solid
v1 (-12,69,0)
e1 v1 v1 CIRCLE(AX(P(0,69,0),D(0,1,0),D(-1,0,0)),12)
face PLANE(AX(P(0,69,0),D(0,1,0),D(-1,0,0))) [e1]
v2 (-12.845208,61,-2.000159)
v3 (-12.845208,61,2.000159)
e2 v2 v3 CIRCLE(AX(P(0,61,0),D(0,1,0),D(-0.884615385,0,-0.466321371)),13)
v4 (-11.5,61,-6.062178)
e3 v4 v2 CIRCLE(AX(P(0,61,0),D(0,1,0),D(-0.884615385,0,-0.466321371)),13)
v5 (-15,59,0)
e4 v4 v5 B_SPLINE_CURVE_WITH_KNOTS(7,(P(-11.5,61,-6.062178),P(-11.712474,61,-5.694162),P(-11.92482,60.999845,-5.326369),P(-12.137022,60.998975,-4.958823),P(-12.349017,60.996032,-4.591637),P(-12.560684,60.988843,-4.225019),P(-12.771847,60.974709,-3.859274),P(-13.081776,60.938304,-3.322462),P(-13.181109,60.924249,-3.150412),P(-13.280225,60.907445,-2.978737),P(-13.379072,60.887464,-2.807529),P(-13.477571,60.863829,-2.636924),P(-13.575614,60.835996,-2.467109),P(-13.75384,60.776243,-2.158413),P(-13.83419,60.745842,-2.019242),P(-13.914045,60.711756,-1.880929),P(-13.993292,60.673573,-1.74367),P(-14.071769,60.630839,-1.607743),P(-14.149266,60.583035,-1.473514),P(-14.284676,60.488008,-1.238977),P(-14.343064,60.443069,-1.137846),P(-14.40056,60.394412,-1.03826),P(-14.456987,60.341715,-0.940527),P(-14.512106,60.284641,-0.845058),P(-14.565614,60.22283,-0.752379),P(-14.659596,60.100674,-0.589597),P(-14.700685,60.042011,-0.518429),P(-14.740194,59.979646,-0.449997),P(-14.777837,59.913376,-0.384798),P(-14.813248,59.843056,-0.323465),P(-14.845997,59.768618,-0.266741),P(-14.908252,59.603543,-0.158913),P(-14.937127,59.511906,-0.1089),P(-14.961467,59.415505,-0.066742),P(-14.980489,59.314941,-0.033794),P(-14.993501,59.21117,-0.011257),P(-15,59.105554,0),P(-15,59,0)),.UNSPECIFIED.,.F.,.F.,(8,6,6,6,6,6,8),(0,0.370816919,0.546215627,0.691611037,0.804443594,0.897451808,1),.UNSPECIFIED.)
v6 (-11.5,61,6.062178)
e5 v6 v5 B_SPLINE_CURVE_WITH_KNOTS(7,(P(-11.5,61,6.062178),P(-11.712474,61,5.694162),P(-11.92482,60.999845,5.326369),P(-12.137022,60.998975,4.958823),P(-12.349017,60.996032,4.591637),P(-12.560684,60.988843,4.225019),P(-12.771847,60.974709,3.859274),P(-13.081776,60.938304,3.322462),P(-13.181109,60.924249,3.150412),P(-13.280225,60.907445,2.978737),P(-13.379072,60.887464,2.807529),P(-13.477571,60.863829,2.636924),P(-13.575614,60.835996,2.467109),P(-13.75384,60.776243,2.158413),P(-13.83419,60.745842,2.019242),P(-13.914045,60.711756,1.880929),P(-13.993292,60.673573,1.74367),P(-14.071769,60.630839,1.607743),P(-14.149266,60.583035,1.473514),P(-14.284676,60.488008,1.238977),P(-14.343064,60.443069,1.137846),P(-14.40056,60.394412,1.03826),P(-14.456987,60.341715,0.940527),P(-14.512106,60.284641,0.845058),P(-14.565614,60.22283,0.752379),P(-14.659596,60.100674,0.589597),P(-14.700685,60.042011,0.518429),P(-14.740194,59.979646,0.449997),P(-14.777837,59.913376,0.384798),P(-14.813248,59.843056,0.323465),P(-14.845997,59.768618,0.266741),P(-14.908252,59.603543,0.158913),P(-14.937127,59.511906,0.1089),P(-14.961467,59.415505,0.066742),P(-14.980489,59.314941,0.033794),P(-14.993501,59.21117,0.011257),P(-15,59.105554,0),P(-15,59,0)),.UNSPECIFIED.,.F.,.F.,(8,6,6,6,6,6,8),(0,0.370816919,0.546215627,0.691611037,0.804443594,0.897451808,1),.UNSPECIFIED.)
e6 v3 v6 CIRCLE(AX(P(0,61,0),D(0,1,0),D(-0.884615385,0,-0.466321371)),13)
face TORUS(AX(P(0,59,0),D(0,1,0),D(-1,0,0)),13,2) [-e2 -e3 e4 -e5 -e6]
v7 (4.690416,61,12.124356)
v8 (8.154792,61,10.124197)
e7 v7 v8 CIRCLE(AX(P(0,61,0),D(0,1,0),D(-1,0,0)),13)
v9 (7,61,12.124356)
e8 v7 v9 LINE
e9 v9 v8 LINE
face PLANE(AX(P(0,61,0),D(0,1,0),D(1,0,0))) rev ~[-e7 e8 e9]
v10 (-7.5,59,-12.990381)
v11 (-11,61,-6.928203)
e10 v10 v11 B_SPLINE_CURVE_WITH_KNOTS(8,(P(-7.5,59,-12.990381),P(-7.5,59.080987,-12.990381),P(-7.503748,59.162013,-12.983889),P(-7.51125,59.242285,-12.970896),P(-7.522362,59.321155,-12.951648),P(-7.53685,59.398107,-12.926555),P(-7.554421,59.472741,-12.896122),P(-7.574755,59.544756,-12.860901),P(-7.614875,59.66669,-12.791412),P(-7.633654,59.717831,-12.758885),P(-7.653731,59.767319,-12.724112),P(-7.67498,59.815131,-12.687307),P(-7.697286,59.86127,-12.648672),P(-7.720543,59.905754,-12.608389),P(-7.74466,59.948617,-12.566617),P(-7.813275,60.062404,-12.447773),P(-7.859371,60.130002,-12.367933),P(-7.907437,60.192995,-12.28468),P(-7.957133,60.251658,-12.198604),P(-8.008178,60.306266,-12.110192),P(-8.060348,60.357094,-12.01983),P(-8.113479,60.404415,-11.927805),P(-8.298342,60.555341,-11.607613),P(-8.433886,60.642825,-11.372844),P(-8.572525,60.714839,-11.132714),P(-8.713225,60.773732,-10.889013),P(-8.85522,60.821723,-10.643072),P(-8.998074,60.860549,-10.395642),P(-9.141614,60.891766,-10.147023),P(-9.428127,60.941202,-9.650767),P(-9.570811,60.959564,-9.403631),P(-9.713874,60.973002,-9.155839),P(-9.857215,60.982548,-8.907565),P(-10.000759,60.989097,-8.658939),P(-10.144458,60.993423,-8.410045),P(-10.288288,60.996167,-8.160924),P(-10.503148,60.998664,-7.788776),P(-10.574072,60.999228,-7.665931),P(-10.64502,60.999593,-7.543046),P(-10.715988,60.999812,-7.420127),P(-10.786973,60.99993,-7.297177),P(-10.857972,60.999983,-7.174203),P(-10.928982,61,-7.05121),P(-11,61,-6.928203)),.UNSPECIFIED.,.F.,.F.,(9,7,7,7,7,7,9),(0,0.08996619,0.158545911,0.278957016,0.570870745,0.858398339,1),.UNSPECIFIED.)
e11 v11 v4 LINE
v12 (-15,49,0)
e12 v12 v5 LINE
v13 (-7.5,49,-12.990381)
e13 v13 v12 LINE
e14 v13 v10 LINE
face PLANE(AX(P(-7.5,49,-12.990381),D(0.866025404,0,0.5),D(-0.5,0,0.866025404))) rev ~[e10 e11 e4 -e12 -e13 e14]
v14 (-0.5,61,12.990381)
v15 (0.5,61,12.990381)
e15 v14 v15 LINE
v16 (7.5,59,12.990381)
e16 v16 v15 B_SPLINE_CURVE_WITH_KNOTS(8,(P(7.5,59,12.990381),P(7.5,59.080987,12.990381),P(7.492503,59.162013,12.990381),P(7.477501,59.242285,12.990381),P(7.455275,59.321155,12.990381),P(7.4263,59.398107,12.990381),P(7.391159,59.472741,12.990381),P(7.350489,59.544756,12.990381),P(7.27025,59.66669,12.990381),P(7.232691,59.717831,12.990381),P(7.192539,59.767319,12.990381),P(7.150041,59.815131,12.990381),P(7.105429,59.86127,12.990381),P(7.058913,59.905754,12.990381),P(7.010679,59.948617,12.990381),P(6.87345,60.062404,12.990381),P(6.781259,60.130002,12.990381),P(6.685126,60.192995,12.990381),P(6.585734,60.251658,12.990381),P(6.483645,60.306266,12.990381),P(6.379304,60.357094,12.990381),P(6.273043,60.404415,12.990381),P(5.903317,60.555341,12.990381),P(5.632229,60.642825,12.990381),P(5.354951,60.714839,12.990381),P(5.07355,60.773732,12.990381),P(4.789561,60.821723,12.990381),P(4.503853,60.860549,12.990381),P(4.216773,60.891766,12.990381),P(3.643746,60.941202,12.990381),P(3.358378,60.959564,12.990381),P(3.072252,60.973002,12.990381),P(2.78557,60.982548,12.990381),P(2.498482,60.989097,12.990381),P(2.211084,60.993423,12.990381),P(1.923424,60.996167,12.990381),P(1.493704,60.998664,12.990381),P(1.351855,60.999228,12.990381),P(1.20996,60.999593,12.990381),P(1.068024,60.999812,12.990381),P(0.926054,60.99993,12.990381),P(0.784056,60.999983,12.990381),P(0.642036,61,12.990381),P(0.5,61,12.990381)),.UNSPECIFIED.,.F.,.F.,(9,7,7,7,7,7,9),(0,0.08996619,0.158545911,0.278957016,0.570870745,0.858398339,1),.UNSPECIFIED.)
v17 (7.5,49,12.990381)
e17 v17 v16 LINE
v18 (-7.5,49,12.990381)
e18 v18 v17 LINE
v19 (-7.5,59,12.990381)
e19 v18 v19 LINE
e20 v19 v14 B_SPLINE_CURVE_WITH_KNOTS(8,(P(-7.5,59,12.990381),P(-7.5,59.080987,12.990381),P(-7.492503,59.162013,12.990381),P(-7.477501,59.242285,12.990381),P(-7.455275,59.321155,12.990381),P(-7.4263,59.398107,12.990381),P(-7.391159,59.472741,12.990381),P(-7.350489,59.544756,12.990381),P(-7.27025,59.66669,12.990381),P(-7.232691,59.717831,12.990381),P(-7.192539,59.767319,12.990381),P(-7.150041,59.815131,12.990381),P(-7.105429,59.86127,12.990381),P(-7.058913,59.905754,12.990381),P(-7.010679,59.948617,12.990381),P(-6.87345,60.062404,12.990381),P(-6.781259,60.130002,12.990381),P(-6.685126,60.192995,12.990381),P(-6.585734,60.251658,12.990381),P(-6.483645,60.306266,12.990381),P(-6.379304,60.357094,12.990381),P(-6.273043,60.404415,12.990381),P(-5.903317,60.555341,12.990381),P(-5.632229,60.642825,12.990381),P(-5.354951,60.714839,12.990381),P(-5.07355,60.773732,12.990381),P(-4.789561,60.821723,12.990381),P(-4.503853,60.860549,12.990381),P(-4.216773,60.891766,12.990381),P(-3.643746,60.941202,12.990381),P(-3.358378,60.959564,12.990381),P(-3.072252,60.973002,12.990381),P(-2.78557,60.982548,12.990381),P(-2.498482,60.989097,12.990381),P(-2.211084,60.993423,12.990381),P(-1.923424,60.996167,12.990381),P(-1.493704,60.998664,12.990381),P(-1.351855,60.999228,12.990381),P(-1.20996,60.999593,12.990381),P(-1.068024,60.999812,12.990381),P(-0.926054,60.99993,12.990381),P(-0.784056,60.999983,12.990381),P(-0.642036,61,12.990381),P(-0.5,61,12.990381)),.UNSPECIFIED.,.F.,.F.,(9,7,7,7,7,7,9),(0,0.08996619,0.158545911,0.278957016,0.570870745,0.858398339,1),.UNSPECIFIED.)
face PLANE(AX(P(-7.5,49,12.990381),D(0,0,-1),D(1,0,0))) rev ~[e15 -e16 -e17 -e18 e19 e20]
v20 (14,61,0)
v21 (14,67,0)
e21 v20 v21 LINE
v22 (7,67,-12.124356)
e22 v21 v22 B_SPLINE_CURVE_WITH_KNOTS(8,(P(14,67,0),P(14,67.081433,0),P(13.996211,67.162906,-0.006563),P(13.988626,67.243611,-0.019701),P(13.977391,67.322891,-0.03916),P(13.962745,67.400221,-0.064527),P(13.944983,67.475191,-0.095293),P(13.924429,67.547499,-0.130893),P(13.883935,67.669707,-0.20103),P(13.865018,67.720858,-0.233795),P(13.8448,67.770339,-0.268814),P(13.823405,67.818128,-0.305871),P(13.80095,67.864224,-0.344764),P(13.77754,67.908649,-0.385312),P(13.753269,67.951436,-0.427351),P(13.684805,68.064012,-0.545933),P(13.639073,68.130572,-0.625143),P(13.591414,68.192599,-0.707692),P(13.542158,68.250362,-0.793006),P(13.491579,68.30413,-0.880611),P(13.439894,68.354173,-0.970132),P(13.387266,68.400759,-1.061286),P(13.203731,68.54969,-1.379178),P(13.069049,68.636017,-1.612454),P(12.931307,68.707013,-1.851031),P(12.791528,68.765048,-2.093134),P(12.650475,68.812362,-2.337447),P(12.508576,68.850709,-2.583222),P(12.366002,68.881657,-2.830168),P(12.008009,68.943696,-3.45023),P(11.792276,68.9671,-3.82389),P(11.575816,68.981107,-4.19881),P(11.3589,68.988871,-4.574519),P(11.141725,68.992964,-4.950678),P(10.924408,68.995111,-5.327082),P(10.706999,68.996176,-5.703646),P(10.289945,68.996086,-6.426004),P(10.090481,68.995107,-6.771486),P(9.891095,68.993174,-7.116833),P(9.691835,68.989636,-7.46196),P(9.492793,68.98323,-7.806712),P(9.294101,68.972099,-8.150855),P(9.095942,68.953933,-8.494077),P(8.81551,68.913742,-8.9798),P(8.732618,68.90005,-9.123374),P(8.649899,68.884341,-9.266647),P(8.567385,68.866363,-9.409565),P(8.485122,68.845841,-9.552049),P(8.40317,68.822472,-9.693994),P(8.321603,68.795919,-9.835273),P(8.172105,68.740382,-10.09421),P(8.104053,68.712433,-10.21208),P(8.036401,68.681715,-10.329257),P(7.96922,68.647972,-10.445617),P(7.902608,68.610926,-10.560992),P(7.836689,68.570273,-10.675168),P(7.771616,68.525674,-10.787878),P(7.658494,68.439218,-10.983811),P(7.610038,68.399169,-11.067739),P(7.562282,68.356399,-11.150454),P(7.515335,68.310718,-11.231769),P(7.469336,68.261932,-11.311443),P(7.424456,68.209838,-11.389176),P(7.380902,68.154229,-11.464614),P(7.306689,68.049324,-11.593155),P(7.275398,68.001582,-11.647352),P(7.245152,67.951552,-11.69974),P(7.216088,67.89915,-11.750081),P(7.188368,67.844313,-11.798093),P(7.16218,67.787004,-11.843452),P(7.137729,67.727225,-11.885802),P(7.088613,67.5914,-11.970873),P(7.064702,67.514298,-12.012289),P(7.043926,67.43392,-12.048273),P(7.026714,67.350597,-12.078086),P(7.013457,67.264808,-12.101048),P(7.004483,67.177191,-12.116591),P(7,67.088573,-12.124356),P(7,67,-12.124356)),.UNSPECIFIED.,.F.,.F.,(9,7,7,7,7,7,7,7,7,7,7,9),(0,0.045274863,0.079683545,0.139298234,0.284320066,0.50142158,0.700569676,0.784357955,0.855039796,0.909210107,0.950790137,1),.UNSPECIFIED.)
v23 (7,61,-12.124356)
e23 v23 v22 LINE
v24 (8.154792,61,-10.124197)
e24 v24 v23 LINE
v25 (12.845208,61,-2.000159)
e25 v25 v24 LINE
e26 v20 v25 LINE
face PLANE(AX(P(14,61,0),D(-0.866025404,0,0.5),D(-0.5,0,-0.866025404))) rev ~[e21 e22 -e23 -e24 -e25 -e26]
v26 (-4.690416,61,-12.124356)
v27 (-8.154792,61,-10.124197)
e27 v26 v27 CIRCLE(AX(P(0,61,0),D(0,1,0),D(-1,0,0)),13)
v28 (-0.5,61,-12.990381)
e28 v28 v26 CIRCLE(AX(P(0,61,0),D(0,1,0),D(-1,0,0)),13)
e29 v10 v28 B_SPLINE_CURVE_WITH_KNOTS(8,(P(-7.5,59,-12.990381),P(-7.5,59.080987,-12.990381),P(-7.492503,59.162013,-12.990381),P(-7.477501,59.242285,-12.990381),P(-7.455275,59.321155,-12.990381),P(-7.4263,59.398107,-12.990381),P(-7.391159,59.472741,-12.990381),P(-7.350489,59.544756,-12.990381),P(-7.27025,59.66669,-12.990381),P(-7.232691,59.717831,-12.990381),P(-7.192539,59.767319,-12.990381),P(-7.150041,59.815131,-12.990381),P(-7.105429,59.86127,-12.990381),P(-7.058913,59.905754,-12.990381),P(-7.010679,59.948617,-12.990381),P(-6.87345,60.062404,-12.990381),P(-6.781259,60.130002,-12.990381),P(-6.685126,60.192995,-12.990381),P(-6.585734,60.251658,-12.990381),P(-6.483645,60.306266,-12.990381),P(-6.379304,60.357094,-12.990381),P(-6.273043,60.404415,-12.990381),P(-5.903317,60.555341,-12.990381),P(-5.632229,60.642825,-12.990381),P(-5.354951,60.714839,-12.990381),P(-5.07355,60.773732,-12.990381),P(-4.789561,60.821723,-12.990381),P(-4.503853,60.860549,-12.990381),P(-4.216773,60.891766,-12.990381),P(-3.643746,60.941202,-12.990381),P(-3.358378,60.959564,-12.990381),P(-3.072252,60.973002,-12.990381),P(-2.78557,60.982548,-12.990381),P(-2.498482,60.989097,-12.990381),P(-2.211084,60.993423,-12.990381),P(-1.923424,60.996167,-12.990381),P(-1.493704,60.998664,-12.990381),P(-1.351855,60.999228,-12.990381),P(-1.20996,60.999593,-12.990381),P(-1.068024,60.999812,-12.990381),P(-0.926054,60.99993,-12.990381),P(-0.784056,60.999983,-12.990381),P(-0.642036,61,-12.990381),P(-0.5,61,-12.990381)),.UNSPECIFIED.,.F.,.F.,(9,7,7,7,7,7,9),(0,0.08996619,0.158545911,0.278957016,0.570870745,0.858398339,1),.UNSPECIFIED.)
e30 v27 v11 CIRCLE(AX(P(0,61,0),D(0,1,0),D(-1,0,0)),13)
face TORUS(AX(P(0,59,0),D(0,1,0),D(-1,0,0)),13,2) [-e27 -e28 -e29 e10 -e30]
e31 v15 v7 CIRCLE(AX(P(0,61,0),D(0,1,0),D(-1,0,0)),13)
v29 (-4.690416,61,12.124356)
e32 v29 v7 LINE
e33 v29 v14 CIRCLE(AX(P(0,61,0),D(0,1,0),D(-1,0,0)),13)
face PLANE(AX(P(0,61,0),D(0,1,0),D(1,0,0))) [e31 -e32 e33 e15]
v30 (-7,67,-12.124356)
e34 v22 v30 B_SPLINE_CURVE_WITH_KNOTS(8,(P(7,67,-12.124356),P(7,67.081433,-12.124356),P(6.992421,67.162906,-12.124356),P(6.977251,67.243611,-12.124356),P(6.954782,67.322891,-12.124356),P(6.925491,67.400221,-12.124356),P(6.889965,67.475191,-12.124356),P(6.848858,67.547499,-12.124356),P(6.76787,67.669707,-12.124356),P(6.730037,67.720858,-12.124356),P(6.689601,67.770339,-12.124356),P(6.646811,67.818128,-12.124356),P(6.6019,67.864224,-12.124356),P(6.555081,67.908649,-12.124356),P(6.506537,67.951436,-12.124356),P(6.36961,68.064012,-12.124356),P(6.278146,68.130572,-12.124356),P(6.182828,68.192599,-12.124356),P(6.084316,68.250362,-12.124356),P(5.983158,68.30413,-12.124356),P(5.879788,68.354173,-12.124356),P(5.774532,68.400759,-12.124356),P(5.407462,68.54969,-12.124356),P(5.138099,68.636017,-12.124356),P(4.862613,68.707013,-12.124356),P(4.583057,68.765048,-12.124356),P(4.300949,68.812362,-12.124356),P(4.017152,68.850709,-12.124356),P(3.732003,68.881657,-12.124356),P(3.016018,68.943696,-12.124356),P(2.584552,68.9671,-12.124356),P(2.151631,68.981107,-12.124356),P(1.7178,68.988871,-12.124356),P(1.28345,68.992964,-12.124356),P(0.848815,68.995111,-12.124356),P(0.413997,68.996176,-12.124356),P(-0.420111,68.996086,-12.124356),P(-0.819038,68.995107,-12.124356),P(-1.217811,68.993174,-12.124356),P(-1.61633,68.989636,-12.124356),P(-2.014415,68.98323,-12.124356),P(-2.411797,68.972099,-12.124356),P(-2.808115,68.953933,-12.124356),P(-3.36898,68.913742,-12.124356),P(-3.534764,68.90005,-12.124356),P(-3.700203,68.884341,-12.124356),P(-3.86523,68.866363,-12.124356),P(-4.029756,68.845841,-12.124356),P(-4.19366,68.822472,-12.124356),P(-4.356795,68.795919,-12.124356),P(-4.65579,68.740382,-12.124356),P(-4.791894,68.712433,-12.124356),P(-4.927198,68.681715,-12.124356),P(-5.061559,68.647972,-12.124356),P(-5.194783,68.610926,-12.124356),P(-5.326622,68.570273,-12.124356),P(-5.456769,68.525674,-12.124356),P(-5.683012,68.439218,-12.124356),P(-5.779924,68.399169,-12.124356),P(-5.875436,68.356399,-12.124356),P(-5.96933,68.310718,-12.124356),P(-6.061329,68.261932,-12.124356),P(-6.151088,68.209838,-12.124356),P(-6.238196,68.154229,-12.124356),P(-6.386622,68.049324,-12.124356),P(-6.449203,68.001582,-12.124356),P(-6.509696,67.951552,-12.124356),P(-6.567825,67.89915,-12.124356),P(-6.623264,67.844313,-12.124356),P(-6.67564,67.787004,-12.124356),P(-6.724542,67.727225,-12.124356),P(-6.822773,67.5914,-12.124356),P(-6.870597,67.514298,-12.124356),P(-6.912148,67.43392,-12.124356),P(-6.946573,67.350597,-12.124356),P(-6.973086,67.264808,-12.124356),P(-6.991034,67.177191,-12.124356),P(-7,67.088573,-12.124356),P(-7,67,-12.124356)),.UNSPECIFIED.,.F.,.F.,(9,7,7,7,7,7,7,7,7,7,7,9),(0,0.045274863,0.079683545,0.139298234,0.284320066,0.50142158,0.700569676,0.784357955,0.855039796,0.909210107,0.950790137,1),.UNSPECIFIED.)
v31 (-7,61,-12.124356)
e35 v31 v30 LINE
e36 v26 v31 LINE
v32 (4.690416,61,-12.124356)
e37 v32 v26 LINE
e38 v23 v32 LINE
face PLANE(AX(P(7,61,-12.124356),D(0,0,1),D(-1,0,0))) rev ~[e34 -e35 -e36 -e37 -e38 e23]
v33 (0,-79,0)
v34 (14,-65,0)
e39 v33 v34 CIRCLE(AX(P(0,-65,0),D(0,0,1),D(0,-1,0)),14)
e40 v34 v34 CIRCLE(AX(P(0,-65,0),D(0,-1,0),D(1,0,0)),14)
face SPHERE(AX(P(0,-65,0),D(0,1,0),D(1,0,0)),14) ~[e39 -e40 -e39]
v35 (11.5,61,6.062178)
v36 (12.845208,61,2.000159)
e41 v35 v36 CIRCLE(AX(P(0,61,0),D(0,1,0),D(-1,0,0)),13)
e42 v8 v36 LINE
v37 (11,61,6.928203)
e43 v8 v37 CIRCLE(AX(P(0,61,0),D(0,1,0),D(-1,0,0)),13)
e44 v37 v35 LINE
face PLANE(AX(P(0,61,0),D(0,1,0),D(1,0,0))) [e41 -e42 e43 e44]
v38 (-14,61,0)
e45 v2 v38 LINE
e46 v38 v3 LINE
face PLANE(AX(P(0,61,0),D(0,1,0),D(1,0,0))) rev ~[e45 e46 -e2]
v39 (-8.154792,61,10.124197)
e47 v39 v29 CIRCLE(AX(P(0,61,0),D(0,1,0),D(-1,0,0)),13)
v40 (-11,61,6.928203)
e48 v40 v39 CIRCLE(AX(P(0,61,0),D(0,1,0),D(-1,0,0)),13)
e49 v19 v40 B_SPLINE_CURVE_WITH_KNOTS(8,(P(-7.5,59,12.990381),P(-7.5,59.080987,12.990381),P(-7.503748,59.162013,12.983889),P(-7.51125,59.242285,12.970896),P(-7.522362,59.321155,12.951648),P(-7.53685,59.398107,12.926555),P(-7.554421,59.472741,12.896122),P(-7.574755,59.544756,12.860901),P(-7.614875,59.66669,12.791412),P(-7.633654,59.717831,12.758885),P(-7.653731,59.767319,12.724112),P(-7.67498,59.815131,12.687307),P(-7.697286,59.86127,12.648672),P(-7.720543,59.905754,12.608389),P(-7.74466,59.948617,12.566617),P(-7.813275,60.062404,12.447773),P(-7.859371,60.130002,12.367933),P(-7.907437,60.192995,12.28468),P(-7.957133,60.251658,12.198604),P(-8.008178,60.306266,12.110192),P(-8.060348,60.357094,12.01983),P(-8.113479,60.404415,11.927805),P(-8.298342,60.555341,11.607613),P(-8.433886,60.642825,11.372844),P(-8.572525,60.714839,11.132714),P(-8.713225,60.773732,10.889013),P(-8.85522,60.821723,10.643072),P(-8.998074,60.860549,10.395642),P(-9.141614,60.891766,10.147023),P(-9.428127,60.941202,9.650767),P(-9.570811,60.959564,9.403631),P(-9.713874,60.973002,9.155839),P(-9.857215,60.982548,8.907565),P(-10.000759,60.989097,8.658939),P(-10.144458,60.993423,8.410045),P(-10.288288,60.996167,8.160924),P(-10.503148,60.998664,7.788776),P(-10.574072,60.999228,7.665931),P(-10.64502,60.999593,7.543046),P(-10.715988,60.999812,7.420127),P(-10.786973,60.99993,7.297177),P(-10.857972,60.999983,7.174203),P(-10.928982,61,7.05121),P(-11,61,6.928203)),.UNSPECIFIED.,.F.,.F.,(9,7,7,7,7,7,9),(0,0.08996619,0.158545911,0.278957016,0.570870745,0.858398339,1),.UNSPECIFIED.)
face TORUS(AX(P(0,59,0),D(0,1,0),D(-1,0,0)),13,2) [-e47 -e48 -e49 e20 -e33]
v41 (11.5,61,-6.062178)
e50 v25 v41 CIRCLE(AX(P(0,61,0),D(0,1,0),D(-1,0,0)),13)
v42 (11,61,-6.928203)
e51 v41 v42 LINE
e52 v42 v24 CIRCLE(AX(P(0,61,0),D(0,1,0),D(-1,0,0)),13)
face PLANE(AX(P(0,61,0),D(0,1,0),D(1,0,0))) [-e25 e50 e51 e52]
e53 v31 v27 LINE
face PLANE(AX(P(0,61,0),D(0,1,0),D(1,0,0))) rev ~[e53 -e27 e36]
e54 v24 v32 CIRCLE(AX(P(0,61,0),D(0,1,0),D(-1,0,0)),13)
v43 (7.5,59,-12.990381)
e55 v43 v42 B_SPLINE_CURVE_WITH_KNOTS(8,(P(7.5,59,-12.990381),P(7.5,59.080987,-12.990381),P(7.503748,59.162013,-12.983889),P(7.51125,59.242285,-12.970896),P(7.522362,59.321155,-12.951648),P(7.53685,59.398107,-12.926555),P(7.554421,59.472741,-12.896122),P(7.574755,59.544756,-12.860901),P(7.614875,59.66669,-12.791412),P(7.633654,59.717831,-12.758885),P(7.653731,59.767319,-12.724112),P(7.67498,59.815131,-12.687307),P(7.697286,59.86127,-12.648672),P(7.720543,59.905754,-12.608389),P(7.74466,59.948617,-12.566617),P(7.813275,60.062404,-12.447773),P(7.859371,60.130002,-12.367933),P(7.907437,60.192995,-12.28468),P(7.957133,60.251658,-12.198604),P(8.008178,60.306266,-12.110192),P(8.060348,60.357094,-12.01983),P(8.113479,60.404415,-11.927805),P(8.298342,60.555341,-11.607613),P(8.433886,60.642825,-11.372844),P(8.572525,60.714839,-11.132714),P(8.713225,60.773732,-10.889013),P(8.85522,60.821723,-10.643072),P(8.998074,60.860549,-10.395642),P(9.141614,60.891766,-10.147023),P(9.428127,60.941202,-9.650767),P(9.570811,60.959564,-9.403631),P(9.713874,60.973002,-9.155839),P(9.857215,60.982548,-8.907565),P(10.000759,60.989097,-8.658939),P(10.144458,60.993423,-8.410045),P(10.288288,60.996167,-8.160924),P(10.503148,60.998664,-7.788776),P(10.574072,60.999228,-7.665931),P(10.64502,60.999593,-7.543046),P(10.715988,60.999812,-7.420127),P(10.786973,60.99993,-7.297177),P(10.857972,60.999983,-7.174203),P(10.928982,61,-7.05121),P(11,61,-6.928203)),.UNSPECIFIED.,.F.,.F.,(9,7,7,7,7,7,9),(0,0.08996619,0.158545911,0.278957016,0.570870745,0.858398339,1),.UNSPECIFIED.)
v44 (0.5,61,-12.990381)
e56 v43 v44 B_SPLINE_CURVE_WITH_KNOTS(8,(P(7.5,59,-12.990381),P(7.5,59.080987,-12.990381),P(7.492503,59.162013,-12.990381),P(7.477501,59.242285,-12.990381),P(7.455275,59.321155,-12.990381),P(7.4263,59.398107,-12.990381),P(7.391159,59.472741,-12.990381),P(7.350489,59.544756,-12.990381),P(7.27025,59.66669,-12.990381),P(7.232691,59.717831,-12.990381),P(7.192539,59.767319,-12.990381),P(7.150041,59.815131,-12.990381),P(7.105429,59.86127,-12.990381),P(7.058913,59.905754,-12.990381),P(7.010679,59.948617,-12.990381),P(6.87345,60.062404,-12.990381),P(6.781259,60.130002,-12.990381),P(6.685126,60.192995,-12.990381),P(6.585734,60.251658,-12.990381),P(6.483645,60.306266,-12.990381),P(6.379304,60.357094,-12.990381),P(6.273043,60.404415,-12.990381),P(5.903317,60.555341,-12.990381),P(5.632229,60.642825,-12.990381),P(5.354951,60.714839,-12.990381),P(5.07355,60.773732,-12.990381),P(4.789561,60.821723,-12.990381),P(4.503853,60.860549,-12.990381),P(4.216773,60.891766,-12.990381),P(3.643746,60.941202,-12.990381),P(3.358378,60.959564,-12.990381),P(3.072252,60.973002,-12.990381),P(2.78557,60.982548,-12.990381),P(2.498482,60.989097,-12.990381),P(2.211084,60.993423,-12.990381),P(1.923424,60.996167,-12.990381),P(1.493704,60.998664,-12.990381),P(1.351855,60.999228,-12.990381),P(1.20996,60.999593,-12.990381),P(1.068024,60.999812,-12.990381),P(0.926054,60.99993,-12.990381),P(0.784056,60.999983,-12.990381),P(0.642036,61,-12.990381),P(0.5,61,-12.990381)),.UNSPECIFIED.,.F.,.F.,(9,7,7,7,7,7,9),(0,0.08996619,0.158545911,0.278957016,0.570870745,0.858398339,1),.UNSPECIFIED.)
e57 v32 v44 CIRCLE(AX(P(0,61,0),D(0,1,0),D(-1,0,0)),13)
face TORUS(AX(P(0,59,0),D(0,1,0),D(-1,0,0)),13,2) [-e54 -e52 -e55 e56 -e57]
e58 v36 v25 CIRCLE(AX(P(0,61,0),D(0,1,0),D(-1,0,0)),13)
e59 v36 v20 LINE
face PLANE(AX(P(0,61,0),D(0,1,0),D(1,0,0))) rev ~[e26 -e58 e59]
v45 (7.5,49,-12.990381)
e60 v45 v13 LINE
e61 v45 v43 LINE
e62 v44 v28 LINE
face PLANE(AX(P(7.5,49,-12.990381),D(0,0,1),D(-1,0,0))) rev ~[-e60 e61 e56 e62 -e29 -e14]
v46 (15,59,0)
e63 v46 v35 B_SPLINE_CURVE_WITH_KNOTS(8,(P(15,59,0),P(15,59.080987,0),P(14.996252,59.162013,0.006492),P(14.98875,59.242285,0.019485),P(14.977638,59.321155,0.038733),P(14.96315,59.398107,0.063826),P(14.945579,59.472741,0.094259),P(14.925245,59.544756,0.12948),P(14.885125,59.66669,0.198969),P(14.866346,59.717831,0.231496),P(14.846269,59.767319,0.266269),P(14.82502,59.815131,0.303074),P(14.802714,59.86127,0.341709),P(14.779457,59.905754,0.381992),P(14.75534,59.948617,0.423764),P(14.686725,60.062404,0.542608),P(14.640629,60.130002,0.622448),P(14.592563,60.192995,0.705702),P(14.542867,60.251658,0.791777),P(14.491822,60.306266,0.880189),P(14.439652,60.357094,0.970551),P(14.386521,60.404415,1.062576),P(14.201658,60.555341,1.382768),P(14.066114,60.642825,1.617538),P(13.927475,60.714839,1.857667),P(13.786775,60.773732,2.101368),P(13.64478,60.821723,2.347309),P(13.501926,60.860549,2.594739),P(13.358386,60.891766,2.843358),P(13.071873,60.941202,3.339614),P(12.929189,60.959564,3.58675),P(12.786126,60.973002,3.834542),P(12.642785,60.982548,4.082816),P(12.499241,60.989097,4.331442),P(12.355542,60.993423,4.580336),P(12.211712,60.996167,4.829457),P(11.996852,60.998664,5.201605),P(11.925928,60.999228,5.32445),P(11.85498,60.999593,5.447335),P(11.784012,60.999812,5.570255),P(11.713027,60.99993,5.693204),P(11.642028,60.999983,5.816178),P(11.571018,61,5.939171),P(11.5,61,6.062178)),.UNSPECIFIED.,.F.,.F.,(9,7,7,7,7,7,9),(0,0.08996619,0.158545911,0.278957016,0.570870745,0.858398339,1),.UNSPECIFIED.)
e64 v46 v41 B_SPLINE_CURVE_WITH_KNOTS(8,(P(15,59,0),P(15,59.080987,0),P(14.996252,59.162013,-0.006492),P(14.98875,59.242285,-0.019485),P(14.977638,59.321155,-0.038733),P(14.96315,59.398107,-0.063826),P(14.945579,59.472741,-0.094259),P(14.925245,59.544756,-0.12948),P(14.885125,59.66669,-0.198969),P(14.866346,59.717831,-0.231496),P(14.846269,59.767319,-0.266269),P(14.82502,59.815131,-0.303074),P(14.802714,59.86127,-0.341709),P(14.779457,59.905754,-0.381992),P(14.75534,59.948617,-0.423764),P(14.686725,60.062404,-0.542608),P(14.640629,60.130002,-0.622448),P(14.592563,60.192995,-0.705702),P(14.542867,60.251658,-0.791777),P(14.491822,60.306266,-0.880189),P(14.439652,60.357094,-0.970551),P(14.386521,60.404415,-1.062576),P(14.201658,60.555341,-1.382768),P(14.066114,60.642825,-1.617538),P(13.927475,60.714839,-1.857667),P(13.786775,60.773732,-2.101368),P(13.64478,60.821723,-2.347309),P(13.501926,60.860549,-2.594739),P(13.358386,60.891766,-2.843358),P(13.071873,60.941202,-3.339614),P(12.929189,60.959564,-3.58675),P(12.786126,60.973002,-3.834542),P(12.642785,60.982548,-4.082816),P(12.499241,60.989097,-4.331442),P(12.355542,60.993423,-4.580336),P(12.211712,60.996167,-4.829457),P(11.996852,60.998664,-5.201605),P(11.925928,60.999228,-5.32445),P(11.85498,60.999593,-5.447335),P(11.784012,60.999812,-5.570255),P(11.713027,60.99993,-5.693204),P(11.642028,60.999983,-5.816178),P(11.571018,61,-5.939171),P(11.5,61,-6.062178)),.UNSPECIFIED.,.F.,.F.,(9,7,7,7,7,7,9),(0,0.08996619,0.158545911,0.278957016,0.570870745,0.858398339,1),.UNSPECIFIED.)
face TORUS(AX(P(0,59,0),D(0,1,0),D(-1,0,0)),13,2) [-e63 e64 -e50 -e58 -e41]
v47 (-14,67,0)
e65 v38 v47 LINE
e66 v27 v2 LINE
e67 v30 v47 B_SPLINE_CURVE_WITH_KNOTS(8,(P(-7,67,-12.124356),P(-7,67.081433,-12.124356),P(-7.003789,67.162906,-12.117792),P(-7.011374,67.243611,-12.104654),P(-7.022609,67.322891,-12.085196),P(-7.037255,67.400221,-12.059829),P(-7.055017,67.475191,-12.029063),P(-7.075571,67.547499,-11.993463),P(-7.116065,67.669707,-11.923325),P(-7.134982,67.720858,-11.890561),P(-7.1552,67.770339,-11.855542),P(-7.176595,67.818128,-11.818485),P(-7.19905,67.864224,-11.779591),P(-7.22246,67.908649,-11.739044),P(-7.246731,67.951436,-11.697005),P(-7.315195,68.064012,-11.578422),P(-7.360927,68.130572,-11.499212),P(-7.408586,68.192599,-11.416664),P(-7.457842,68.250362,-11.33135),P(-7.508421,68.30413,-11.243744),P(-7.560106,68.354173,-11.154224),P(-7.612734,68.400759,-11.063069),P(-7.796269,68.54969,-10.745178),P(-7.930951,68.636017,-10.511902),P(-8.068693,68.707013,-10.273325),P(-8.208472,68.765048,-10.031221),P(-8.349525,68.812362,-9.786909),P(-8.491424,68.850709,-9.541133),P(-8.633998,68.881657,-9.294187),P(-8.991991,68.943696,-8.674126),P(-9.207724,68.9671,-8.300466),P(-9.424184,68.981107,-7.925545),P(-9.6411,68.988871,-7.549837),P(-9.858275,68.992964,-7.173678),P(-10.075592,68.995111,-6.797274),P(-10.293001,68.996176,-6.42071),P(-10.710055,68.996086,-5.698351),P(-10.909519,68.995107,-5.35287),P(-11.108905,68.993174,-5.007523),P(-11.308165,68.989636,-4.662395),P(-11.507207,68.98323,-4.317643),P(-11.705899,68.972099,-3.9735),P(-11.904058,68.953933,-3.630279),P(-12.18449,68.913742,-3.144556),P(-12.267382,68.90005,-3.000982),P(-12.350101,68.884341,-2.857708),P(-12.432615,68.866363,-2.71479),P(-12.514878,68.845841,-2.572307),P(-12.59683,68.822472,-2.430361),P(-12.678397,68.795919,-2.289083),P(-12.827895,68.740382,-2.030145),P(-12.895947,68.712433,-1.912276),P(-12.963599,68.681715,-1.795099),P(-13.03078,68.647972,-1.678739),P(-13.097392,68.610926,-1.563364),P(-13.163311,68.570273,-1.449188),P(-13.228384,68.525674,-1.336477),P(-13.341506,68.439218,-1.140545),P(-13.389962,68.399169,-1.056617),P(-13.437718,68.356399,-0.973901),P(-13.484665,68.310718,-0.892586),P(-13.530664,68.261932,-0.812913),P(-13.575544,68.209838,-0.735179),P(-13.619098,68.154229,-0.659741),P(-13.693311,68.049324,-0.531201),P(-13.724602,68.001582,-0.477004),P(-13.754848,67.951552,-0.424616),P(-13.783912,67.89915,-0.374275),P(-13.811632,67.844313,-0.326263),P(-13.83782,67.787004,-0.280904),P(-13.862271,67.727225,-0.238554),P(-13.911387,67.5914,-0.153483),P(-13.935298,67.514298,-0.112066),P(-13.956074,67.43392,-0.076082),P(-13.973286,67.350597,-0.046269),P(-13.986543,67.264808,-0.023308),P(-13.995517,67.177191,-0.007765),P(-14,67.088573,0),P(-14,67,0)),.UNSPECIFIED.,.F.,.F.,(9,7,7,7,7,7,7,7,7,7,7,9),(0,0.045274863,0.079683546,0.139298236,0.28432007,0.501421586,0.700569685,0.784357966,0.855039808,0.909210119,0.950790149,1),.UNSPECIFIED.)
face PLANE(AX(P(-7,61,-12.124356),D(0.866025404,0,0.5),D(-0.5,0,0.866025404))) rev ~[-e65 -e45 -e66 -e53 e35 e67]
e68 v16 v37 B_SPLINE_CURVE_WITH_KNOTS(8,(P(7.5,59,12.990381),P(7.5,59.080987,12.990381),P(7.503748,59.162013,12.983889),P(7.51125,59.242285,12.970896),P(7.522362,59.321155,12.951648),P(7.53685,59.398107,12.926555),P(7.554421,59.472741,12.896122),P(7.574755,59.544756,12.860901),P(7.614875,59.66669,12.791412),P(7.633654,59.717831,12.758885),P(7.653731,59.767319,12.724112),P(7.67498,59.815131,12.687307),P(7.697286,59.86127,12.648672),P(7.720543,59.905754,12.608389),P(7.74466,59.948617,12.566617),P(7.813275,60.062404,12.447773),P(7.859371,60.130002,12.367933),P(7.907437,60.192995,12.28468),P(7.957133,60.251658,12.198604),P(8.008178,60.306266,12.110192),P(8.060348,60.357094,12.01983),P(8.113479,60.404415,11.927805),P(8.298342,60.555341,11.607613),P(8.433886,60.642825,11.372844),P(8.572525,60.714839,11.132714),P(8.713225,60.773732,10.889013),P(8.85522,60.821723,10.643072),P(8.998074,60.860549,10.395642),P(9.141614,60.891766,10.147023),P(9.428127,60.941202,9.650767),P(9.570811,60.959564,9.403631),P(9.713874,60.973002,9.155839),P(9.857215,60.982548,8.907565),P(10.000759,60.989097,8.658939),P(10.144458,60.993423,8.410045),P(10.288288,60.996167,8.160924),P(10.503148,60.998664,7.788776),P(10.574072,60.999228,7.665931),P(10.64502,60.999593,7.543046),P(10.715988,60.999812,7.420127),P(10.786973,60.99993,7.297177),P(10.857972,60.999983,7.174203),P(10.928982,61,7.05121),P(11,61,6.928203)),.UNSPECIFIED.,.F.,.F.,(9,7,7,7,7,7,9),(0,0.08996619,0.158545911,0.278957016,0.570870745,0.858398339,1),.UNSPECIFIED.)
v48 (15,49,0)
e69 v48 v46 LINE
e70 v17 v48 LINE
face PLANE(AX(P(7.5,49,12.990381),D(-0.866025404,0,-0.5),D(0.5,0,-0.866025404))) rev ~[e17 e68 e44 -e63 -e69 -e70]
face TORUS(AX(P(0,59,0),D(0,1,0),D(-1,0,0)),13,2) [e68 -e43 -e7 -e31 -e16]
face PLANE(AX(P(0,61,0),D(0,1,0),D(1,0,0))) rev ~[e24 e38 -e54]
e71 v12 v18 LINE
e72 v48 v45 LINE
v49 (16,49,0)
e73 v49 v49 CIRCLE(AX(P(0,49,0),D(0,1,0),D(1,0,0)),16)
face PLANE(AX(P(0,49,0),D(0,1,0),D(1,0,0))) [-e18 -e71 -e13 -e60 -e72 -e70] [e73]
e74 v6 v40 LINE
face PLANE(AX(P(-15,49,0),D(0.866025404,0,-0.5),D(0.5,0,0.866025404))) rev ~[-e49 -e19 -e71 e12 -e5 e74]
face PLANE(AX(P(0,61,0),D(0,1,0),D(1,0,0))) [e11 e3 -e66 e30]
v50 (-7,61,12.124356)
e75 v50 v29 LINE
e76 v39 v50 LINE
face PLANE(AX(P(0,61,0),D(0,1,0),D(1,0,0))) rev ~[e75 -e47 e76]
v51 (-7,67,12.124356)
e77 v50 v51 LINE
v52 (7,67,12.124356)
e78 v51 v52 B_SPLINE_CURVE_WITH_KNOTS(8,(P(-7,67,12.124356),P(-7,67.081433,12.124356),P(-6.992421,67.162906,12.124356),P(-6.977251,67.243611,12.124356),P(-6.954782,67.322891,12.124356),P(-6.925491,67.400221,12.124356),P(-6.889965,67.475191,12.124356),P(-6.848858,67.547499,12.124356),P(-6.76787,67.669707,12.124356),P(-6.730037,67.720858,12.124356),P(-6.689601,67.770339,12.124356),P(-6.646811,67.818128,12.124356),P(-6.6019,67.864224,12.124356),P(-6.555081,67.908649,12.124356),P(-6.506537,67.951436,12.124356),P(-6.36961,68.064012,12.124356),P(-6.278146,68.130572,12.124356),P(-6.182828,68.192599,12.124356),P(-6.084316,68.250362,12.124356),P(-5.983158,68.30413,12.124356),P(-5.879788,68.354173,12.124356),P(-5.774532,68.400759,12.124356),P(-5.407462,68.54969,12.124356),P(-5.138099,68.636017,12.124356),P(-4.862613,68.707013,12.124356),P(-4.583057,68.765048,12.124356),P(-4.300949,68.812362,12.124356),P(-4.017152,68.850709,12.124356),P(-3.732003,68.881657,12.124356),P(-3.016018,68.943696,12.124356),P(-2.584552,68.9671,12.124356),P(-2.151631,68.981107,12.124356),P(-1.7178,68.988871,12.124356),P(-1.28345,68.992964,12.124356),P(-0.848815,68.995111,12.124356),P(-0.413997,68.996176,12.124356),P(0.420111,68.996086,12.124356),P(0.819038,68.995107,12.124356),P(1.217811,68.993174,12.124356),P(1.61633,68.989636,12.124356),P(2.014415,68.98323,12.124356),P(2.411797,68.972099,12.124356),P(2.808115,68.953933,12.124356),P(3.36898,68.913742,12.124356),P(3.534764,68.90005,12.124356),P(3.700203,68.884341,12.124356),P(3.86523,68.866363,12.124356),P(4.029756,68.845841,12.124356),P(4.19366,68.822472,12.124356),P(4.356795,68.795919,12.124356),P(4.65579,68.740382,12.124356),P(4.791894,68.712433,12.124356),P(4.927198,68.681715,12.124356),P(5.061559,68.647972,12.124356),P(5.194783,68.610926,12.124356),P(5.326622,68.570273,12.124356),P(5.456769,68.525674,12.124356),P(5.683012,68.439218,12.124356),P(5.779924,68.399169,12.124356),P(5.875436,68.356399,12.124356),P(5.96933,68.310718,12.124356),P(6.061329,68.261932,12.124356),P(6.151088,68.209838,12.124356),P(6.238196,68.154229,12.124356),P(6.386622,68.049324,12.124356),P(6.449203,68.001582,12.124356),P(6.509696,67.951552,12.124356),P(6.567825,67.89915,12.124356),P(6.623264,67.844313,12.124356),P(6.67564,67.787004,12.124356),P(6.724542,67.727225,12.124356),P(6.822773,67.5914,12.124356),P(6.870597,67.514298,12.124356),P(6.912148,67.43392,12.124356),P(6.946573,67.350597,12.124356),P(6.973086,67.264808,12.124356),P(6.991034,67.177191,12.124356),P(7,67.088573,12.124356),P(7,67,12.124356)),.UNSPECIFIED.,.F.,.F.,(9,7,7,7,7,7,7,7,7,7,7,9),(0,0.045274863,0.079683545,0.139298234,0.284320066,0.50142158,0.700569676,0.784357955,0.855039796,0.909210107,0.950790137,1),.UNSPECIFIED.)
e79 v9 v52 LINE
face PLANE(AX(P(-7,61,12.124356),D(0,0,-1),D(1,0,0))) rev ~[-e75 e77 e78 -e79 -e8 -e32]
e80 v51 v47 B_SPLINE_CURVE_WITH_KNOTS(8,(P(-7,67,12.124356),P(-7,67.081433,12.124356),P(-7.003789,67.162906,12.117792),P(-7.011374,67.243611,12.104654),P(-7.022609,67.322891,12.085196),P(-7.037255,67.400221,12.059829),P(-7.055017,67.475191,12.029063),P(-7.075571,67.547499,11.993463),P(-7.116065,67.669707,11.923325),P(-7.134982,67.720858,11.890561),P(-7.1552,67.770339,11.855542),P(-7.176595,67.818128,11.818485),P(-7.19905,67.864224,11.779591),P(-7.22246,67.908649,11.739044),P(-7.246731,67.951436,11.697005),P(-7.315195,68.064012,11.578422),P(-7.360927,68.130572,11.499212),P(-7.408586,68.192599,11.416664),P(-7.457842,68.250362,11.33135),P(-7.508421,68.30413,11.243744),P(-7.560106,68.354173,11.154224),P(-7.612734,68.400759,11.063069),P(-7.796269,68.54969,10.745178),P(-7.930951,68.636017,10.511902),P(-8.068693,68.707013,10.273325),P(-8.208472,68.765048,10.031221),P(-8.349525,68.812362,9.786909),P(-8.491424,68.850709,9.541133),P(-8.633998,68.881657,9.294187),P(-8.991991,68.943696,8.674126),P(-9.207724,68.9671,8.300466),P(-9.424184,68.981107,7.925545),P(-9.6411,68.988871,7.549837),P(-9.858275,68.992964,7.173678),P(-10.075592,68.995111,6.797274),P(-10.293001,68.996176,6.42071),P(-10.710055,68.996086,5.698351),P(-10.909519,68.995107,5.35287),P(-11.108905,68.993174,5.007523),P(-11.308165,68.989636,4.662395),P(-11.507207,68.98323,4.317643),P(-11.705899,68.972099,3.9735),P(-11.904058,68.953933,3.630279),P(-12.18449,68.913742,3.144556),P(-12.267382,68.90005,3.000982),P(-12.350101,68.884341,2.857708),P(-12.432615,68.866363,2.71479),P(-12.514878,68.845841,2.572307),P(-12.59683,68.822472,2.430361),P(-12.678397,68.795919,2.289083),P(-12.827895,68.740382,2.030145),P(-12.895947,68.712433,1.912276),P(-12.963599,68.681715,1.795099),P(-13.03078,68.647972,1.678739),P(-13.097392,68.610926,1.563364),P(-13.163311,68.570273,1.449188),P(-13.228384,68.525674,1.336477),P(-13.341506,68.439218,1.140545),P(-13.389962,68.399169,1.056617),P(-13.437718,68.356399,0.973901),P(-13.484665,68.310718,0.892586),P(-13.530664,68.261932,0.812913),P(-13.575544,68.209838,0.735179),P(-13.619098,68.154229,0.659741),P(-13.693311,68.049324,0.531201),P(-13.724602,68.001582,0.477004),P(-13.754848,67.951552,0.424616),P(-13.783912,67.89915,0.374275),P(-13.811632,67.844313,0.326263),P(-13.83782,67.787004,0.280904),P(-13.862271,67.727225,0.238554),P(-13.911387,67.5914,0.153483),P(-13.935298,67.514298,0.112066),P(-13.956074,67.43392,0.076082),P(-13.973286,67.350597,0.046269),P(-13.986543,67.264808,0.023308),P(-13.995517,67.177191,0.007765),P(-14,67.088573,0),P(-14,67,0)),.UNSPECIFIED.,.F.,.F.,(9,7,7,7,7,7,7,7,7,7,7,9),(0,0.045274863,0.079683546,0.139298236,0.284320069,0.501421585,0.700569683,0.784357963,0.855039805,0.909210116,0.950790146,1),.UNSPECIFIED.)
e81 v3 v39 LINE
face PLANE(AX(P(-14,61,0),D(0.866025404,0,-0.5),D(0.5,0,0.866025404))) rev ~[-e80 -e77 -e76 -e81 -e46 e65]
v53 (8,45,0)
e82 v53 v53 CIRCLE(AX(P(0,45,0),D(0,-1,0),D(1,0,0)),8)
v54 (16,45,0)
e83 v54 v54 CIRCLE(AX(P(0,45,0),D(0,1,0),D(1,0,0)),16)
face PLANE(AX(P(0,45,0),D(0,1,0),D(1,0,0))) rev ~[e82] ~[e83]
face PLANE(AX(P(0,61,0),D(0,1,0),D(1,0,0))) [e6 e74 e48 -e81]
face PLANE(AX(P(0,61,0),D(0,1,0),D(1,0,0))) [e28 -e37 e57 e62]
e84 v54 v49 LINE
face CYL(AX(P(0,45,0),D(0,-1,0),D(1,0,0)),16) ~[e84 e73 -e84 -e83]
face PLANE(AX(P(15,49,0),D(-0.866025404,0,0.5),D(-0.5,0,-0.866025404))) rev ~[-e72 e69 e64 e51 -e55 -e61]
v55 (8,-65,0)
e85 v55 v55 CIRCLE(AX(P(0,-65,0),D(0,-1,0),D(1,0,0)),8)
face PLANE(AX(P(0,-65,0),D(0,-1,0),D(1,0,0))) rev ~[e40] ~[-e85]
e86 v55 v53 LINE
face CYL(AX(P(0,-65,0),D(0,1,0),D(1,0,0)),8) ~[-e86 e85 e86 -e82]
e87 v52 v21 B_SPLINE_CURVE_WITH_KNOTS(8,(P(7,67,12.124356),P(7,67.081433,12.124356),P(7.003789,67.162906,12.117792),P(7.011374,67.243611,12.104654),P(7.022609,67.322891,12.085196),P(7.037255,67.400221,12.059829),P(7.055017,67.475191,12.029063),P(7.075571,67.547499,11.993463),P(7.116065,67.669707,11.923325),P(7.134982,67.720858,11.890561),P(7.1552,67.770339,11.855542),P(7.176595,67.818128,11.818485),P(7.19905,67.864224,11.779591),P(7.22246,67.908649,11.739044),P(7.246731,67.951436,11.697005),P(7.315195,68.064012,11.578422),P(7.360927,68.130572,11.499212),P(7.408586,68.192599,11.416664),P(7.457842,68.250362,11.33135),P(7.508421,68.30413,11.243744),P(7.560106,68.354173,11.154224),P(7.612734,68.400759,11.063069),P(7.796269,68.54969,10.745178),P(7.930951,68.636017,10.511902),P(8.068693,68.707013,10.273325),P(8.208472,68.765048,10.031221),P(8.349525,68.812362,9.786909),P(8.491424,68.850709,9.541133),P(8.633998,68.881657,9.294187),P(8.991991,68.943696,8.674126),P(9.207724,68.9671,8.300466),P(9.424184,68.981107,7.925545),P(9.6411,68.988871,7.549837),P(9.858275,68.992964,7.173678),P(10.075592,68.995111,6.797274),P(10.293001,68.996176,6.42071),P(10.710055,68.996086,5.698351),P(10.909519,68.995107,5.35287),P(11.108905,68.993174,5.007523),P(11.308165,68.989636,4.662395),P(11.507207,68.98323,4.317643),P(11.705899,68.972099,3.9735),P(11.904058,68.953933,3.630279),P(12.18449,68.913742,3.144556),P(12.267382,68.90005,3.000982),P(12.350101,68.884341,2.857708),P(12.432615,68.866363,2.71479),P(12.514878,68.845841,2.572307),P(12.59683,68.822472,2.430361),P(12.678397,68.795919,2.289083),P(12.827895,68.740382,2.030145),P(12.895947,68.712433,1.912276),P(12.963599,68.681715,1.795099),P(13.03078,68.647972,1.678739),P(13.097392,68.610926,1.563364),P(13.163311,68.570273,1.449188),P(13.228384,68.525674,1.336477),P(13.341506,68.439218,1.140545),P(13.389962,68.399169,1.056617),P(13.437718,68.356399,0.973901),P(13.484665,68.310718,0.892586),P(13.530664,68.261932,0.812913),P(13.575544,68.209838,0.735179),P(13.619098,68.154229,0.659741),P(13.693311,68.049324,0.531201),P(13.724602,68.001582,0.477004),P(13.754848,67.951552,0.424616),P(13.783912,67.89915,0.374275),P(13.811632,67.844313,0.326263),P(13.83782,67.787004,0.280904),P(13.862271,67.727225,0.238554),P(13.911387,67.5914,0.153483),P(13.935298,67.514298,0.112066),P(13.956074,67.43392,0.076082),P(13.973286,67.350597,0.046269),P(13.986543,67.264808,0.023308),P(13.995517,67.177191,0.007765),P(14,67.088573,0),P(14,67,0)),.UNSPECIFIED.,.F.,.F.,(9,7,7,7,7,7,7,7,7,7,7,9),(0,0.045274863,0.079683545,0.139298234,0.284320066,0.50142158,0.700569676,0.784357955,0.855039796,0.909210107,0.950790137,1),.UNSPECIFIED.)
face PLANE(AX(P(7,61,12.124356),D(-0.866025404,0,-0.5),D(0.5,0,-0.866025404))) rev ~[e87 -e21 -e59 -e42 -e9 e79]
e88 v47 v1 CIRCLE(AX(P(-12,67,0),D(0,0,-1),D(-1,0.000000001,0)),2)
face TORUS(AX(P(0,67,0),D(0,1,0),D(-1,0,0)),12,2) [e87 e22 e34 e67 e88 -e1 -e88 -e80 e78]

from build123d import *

# Parameters (mm, degrees)
SKETCH2_R           = 16
BOSS_EXTRUDE1_DEPTH = 4
BOSS_EXTRUDE2_DEPTH = 12
BOSS_EXTRUDE3_DEPTH = 8


with BuildPart() as part:
    # Sketch1 → Revolve1 (revolve)
    with BuildSketch(Plane.XY):
        with BuildLine():
            Line((0, 45), (0, -79))
            ThreePointArc((0, -79), (9.899494937, -74.899494937), (14, -65))
            Line((14, -65), (8, -65))
            Line((8, -65), (8, 45))
            Line((8, 45), (0, 45))
        make_face()
    revolve(axis=Axis((0, 45, 0), (0, -1, 0)))

    # Sketch2 → Boss-Extrude1 (add)
    with BuildSketch(Plane(origin=(0, 45, 0), x_dir=(1, 0, 0), z_dir=(0, 1, 0))):
        Circle(SKETCH2_R)
    extrude(amount=BOSS_EXTRUDE1_DEPTH)

    # Sketch3 → Boss-Extrude2 (add)
    with BuildSketch(Plane(origin=(0, 49, 0), x_dir=(1, 0, 0), z_dir=(0, 1, 0))):
        Polygon((15, 0), (7.5, 12.990381057), (-7.5, 12.990381057), (-15, 0), (-7.5, -12.990381057), (7.5, -12.990381057), align=None)
    extrude(amount=BOSS_EXTRUDE2_DEPTH)

    # Sketch4 → Cut-Revolve1 (revolve, cut)
    with BuildSketch(Plane.XY):
        with BuildLine():
            Line((-11.25, 61), (-11.845920892, 86.206852949))
            Line((-11.845920892, 86.206852949), (-19.210159843, 81.730550841))
            Line((-19.210159843, 81.730550841), (-15, 77.218149523))
            Line((-15, 77.218149523), (-15, 59))
            ThreePointArc((-15, 59), (-14.414213562, 60.414213562), (-13, 61))
            Line((-13, 61), (-11.25, 61))
        make_face()
    revolve(axis=Axis((0, 61, 0), (0, 1, 0)), mode=Mode.SUBTRACT)

    # Sketch5 → Boss-Extrude3 (add)
    with BuildSketch(Plane(origin=(0, 61, 0), x_dir=(1, 0, 0), z_dir=(0, 1, 0))):
        Polygon((14, 0), (7, 12.124355653), (-7, 12.124355653), (-14, 0), (-7, -12.124355653), (7, -12.124355653), align=None)
    extrude(amount=BOSS_EXTRUDE3_DEPTH)

    # Sketch7 → Cut-Revolve4 (revolve, cut)
    with BuildSketch(Plane.XY):
        with BuildLine():
            Line((-10.420461745, 69), (-11.491114181, 93.356215437))
            Line((-11.491114181, 93.356215437), (-17.705025471, 88.394162347))
            Line((-17.705025471, 88.394162347), (-14, 85.377305621))
            Line((-14, 85.377305621), (-14, 67))
            ThreePointArc((-14, 67), (-13.414213562, 68.414213562), (-12, 69))
            Line((-12, 69), (-10.420461745, 69))
        make_face()
    revolve(axis=Axis((0, 69, 0), (0, 1, 0)), mode=Mode.SUBTRACT)


solid = part.part
